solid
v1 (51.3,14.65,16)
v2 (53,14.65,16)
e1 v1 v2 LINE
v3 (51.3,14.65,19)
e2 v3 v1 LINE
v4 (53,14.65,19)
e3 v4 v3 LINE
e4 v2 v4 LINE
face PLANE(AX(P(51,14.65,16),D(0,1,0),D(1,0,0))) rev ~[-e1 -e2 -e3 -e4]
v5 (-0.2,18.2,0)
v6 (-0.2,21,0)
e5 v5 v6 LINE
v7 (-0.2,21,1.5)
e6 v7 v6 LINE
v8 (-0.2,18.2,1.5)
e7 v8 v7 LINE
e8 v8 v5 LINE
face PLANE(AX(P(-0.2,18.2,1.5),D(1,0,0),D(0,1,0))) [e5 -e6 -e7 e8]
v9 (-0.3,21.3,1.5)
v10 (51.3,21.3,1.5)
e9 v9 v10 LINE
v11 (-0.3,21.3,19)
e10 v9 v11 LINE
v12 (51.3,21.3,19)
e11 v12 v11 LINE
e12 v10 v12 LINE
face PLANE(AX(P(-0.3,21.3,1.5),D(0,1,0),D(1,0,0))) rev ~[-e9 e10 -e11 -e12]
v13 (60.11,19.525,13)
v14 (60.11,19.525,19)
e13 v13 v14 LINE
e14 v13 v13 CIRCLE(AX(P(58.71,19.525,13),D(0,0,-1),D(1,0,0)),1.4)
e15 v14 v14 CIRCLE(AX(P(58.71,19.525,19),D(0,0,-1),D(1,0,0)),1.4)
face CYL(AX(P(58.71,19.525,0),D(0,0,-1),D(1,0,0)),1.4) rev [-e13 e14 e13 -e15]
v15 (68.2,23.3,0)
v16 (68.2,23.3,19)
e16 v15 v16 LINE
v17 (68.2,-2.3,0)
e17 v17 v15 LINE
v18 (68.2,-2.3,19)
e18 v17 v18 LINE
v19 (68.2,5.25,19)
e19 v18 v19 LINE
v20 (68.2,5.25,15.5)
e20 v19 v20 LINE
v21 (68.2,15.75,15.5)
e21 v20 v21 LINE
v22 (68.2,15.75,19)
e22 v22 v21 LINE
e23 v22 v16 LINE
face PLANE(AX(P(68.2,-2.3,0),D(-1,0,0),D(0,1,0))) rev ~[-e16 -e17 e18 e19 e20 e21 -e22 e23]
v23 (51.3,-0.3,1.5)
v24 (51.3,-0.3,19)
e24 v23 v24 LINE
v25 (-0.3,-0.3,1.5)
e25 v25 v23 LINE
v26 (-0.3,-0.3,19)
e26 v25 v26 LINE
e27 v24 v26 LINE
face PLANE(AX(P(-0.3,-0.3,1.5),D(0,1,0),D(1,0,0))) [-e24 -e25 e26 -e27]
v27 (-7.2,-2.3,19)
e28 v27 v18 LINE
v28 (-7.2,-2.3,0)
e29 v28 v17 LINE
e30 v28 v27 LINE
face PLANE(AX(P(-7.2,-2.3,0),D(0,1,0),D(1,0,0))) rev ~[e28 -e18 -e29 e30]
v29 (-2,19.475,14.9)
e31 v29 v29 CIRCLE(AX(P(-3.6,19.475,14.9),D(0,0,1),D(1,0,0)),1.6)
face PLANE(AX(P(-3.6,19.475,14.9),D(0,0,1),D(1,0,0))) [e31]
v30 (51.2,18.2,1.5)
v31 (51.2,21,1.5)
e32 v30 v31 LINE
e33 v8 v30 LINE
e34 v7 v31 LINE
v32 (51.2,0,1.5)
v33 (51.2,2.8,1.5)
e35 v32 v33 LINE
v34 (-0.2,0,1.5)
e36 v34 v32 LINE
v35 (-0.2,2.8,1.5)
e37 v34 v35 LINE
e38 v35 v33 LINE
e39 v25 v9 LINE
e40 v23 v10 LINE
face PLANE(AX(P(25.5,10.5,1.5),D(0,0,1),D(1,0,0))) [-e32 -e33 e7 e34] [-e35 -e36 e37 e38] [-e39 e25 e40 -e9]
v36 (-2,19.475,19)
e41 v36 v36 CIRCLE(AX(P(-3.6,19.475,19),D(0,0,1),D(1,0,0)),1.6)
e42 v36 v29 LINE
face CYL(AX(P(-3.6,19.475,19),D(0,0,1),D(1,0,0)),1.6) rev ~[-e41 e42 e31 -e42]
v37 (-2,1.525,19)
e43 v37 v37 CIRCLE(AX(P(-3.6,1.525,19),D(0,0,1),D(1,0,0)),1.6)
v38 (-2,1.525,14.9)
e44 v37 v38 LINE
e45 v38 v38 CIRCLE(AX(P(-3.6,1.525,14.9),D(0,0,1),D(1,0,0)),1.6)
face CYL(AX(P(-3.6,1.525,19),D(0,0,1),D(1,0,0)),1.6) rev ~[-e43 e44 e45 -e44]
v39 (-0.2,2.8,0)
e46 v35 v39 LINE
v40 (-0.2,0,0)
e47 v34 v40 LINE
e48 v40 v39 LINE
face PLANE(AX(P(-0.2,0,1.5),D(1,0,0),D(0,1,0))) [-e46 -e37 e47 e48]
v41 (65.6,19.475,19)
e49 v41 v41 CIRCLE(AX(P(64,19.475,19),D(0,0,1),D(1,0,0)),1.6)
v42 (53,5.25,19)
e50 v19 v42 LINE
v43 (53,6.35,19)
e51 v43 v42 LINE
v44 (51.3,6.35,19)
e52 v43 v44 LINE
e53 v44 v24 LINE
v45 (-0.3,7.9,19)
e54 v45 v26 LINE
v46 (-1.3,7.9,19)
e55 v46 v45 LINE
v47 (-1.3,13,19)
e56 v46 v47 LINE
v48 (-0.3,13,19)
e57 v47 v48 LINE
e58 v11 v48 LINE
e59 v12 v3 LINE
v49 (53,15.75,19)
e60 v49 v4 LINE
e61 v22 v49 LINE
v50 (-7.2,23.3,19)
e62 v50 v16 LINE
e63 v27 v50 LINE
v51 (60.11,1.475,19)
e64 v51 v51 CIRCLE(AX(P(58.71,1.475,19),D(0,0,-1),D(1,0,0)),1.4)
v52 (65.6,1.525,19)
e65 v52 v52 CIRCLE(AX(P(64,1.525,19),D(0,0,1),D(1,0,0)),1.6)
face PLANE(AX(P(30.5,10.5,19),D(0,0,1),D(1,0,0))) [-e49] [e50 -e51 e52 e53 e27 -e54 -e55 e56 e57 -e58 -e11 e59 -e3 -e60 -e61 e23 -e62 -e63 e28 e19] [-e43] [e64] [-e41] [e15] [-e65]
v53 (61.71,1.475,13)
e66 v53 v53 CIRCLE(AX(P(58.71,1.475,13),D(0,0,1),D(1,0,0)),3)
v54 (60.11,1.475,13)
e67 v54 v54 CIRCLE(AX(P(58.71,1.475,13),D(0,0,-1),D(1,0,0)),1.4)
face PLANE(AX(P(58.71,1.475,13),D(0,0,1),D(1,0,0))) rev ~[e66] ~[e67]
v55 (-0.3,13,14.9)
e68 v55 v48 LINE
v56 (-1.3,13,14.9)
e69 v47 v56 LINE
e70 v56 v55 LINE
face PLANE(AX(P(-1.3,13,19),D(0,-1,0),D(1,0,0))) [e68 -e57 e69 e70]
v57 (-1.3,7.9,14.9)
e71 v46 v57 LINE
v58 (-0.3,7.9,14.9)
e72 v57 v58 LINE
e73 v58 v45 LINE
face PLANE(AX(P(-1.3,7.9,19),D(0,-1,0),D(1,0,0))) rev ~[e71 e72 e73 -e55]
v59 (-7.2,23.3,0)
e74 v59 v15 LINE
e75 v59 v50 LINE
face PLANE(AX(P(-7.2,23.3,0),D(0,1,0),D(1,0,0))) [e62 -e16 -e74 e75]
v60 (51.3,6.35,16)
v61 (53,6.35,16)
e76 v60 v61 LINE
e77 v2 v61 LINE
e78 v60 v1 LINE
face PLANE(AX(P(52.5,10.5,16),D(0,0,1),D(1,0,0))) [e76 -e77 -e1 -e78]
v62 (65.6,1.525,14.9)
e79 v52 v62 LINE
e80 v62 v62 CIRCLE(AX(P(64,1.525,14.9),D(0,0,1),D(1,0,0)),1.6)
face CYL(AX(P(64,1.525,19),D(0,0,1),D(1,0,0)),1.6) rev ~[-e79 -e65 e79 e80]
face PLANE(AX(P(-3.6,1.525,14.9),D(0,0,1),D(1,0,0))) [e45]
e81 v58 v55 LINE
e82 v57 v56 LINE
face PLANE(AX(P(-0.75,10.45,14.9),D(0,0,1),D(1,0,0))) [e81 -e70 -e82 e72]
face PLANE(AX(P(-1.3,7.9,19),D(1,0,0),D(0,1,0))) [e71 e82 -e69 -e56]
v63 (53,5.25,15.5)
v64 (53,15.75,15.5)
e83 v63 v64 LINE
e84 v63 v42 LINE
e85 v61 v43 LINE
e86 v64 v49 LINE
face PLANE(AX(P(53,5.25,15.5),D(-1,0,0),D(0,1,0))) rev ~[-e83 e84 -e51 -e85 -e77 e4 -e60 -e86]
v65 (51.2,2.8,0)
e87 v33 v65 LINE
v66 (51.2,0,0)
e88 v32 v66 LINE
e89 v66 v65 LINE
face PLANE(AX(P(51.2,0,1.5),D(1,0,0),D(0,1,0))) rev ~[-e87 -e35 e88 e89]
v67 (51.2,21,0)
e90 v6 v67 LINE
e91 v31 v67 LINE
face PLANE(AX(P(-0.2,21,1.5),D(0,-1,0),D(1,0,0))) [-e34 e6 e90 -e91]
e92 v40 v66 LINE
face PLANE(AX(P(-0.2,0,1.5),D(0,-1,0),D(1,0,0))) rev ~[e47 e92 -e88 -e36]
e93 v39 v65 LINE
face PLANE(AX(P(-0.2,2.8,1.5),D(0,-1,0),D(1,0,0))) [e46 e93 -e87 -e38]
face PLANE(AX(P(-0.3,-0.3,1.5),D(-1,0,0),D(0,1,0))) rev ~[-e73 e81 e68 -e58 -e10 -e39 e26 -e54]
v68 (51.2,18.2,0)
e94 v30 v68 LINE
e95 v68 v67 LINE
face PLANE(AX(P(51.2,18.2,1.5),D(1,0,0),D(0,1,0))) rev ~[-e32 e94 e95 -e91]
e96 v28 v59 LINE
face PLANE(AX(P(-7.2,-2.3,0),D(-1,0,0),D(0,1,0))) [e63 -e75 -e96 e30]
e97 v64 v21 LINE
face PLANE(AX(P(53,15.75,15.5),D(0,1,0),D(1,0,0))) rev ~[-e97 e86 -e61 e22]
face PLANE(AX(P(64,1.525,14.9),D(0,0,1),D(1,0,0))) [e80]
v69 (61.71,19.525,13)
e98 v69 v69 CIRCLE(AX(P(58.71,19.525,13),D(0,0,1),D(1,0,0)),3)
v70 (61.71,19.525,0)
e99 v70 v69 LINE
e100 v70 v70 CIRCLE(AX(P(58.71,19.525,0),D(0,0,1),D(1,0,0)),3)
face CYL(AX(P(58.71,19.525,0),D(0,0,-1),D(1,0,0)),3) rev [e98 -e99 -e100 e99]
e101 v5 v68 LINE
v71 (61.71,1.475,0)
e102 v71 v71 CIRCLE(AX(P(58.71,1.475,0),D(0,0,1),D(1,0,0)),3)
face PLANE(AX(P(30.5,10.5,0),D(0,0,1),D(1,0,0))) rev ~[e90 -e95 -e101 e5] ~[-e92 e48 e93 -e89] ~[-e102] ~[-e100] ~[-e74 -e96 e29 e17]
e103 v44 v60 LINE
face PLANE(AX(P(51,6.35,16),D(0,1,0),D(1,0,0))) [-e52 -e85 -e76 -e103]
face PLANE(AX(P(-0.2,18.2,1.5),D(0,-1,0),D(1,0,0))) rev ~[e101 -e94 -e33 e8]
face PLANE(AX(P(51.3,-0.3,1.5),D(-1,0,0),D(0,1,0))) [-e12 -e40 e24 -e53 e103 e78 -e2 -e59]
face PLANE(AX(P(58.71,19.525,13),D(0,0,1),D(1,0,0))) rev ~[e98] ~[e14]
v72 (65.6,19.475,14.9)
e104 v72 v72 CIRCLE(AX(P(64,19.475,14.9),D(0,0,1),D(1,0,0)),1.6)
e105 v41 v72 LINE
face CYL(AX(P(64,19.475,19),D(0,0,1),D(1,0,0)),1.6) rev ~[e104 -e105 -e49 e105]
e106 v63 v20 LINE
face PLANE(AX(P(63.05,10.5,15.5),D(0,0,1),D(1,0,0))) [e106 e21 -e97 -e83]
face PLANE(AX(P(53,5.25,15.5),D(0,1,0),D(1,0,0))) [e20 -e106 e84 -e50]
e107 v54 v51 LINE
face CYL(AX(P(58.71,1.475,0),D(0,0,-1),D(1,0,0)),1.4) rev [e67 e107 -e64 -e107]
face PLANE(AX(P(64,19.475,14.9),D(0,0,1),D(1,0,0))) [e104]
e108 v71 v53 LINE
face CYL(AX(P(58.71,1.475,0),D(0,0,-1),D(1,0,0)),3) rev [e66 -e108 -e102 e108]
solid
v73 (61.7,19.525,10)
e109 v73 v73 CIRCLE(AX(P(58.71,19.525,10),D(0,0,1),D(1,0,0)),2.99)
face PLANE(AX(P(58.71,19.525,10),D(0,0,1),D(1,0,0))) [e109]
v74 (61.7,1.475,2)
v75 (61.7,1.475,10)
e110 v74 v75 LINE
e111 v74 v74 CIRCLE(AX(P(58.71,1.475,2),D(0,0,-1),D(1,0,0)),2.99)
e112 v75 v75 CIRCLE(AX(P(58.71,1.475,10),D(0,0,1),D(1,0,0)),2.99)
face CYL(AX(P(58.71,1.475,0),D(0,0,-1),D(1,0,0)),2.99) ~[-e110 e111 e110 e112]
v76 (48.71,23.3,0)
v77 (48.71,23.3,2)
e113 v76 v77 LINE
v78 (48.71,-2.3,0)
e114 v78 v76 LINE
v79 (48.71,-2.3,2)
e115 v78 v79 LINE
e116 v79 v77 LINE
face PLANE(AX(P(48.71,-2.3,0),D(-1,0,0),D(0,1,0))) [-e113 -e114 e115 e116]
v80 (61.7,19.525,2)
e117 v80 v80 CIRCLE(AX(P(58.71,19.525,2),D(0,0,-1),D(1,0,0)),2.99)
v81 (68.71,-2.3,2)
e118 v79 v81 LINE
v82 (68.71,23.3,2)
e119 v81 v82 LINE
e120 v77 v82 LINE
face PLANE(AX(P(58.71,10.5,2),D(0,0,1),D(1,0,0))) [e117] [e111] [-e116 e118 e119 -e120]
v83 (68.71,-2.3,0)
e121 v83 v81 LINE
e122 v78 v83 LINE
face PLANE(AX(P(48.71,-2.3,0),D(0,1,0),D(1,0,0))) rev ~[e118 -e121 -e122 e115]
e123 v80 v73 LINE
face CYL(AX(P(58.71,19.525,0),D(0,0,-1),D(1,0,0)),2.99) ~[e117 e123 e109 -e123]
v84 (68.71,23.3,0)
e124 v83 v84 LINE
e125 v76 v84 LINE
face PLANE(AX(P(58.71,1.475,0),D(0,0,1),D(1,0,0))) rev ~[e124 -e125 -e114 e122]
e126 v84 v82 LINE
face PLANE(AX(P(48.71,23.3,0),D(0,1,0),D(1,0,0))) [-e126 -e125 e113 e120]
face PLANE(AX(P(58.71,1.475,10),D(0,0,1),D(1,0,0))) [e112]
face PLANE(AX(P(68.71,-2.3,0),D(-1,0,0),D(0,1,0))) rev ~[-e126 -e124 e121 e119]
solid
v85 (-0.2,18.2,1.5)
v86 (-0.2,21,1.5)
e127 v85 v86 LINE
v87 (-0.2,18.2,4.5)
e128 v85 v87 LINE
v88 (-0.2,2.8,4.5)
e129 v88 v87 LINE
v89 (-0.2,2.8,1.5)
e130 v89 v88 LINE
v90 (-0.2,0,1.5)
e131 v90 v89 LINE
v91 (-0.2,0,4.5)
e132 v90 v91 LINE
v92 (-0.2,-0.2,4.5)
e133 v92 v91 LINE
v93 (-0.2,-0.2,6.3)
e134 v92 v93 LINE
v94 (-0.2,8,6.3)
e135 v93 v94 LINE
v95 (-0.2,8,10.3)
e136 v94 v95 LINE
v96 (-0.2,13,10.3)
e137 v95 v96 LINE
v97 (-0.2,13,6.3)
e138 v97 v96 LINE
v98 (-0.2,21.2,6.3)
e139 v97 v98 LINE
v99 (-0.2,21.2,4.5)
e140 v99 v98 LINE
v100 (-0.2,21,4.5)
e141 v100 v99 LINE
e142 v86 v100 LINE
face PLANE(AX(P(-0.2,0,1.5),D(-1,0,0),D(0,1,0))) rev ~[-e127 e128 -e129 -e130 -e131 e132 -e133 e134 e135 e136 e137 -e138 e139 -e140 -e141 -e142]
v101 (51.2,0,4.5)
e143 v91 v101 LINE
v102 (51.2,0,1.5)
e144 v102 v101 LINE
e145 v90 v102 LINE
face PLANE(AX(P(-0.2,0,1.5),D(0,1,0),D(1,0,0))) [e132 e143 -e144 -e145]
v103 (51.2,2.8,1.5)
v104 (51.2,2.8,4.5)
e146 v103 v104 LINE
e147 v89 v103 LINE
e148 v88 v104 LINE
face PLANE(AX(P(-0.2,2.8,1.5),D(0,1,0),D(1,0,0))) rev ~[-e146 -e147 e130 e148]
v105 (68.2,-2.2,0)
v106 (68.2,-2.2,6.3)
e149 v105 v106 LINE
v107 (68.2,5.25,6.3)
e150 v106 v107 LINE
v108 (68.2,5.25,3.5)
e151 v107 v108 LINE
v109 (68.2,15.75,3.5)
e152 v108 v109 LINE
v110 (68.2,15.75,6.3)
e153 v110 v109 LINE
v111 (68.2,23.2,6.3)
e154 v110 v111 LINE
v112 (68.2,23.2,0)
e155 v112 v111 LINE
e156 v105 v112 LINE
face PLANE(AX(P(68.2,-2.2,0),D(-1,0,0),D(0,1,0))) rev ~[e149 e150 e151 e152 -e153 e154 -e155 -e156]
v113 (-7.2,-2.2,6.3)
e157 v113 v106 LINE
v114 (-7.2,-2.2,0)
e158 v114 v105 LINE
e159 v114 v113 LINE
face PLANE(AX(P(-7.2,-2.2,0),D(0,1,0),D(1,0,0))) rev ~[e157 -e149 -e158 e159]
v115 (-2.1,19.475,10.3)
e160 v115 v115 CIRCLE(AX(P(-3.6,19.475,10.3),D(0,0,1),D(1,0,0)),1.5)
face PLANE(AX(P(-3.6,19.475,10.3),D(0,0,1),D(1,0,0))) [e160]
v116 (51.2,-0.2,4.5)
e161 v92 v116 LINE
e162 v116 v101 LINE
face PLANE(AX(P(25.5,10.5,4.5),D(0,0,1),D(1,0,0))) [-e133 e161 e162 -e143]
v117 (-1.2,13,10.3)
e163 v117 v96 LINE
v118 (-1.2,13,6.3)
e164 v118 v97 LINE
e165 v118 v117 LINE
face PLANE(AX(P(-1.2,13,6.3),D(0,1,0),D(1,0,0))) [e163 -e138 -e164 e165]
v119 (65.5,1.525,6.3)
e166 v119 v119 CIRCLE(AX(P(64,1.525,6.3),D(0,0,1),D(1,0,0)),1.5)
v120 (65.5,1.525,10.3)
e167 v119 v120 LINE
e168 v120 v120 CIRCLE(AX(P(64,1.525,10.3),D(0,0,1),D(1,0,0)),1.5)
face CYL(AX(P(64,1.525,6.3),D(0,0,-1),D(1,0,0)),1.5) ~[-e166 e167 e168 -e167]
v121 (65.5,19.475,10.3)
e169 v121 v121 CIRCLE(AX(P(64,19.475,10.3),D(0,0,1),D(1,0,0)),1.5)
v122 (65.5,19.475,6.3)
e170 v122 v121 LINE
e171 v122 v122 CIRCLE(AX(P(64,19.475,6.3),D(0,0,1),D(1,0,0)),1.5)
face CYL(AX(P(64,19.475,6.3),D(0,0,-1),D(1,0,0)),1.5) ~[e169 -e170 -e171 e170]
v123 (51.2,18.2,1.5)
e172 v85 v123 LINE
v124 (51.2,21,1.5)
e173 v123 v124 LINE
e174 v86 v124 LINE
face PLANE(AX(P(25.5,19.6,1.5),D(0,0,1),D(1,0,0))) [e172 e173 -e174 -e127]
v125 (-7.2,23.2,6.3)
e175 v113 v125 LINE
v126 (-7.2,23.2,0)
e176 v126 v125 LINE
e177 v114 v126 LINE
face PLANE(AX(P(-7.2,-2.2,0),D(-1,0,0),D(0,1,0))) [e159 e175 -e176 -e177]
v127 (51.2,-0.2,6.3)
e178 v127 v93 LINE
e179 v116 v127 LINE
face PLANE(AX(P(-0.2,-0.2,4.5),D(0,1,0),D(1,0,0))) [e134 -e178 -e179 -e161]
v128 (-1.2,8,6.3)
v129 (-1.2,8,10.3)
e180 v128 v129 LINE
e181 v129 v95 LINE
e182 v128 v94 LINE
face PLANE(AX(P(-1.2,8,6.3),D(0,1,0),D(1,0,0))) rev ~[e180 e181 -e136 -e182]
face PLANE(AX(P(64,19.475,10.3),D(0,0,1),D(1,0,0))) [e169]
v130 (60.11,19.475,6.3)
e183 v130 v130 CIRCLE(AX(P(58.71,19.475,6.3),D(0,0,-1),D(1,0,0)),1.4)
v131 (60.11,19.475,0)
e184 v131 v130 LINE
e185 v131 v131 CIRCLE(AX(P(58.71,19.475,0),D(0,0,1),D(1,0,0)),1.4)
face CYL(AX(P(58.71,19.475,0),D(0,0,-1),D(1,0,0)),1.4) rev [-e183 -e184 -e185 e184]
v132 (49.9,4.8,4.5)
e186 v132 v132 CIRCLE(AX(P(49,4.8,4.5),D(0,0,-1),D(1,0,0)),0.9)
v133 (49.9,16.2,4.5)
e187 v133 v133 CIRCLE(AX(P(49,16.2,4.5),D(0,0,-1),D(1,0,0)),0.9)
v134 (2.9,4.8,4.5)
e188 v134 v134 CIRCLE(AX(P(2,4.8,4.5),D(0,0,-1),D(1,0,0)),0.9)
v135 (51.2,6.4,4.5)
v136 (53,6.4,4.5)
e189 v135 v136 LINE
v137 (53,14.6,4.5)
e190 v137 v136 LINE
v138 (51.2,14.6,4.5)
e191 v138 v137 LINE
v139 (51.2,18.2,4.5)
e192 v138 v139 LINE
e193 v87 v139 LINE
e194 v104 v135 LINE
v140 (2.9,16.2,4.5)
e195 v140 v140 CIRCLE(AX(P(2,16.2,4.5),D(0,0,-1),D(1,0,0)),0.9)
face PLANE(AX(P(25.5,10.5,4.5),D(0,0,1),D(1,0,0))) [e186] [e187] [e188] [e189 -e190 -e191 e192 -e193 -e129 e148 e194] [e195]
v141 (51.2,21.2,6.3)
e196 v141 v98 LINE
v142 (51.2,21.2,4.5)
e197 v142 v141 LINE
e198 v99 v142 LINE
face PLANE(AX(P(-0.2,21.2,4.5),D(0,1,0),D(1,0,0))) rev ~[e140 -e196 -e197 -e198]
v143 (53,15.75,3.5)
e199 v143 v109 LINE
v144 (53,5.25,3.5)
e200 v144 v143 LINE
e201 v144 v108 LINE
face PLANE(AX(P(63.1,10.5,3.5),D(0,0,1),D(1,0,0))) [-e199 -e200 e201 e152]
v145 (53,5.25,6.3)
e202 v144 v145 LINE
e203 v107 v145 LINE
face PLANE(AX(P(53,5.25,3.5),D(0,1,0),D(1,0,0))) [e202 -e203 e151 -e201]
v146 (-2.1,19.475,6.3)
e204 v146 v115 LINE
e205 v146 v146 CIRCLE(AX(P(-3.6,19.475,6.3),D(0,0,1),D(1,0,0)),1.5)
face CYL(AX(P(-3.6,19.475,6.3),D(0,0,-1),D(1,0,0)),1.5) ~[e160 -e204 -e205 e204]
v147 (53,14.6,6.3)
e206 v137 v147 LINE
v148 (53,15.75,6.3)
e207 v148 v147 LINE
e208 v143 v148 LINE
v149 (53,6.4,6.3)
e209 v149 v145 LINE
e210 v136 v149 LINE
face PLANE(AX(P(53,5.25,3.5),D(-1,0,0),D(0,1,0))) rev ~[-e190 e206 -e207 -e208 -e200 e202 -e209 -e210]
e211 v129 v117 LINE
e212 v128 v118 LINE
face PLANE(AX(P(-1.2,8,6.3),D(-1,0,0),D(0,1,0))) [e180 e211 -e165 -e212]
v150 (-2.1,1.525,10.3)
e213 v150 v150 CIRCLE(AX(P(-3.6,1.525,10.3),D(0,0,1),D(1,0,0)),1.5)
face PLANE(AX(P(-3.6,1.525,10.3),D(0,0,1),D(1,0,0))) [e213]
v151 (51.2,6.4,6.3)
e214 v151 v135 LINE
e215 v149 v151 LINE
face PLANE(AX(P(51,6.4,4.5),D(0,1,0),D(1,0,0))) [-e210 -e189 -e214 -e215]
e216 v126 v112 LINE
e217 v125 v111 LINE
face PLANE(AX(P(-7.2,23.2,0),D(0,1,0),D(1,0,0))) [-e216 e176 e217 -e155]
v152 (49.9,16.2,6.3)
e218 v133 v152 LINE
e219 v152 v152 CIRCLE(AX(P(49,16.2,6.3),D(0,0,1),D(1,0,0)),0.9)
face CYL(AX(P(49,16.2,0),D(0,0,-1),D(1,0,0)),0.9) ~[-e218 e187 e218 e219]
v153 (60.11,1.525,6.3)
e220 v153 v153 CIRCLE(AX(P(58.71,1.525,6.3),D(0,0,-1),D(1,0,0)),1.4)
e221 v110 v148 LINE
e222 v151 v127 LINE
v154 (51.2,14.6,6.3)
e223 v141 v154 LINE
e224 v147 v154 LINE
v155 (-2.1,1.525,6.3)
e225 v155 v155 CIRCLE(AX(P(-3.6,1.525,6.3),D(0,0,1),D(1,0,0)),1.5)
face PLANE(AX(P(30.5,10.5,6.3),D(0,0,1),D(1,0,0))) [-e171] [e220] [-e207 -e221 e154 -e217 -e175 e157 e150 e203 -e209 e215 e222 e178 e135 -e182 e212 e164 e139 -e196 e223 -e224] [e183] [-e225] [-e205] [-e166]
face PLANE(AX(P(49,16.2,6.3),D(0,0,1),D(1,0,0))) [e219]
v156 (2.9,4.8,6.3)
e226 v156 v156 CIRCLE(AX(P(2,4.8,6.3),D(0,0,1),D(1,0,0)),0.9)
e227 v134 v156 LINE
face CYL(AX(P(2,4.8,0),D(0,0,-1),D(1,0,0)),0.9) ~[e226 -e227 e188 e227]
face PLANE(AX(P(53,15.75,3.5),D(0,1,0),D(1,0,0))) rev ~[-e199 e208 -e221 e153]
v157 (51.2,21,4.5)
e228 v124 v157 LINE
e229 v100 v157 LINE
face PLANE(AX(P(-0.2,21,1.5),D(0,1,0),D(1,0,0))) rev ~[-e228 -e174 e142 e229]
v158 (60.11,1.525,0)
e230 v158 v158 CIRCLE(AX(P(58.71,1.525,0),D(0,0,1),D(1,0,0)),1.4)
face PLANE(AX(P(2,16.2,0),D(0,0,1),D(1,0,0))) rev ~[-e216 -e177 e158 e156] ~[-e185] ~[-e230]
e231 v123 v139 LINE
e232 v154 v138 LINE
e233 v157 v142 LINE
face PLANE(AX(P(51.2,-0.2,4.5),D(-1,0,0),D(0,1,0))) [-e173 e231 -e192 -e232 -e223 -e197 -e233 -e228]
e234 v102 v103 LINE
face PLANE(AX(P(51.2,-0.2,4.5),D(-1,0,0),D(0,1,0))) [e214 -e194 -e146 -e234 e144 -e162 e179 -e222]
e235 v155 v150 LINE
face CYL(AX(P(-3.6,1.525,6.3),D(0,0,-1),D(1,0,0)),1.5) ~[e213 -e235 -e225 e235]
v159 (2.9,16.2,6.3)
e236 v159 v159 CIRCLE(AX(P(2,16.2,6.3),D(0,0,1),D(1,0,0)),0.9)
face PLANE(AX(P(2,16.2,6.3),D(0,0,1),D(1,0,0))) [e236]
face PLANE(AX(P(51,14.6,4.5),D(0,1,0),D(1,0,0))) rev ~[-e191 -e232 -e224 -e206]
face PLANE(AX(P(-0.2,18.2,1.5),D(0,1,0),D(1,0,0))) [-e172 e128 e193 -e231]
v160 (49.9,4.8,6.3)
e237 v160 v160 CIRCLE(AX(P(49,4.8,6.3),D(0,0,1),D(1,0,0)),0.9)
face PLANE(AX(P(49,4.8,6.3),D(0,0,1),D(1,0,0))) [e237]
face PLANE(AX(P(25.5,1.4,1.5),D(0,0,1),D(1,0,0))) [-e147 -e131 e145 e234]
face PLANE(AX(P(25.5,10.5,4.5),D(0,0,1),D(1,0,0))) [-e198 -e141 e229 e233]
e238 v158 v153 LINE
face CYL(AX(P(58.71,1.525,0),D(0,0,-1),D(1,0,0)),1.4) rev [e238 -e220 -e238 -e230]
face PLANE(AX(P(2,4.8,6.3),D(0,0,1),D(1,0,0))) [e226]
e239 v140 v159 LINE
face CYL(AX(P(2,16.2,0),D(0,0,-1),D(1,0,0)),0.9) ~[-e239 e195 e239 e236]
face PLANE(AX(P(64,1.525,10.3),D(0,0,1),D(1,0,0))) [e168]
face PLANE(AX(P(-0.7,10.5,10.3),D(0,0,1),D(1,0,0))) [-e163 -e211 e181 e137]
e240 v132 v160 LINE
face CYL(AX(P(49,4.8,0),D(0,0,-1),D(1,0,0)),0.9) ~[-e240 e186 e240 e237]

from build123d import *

# Parameters (mm, degrees)
SKETCH_W             = 75.4
SKETCH_H             = 25.4
PAD_DEPTH            = 6.3
SKETCH001_W          = 51.4
SKETCH001_H          = 2.8
POCKET_DEPTH         = 4.801
SKETCH002_W          = 51.4
SKETCH002_H          = 21.4
POCKET001_DEPTH      = 1.801
SKETCH003_R          = 0.9
PAD001_DEPTH         = 6.3
SKETCH004_W          = 3
SKETCH004_H          = 8.2
POCKET002_DEPTH      = 1.801
SKETCH005_W          = 20.2
SKETCH005_H          = 10.5
POCKET003_DEPTH      = 5
SKETCH006_R          = 1.4
POCKET004_DEPTH      = 0.001
POCKET004_DEPTH_BACK = -6.301
SKETCH016_R          = 1.5
SKETCH016_W          = 1
SKETCH016_H          = 5
PAD003_DEPTH         = 4
SKETCH007_W          = 75.4
SKETCH007_H          = 25.6
PAD002_DEPTH         = 19
SKETCH009_W          = 51.6
SKETCH009_H          = 21.6
POCKET006_DEPTH      = 17.501
SKETCH011_W          = 3
SKETCH011_H          = 8.3
POCKET007_DEPTH      = 3.001
SKETCH012_W          = 20.1
SKETCH012_H          = 10.5
POCKET008_DEPTH      = 5
SKETCH013_R          = 1.4
POCKET009_DEPTH      = 0.001
POCKET009_DEPTH_BACK = -19.001
SKETCH014_R          = 3
POCKET010_DEPTH      = 13
SKETCH015_W          = 51.4
SKETCH015_H          = 2.8
POCKET011_DEPTH      = 5
SKETCH017_R          = 1.6
SKETCH017_W          = 1.1
SKETCH017_H          = 5.1
POCKET012_DEPTH      = 4.1
SKETCH019_W          = 20
SKETCH019_H          = 25.6
PAD004_DEPTH         = 2
SKETCH018_R          = 2.99
PAD005_DEPTH         = 10


with BuildPart() as body:
    # Sketch → Pad (new body)
    with BuildSketch(Plane.XY):
        with Locations((30.5, 10.5)):
            Rectangle(SKETCH_W, SKETCH_H)
    extrude(amount=PAD_DEPTH)

    # Sketch001 → Pocket (cut, through all)
    with BuildSketch(Plane.XY.offset(1.5)):
        with Locations((25.5, 1.4)):
            Rectangle(SKETCH001_W, SKETCH001_H)
        with Locations((25.5, 19.6)):
            Rectangle(SKETCH001_W, SKETCH001_H)
    extrude(amount=POCKET_DEPTH, mode=Mode.SUBTRACT)

    # Sketch002 → Pocket001 (cut, through all)
    with BuildSketch(Plane.XY.offset(4.5)):
        with Locations((25.5, 10.5)):
            Rectangle(SKETCH002_W, SKETCH002_H)
    extrude(amount=POCKET001_DEPTH, mode=Mode.SUBTRACT)

    # Sketch003 → Pad001 (join)
    with BuildSketch(Plane.XY):
        with Locations((2, 16.2)):
            Circle(SKETCH003_R)
        with Locations((2, 4.8)):
            Circle(SKETCH003_R)
        with Locations((49, 16.2)):
            Circle(SKETCH003_R)
        with Locations((49, 4.8)):
            Circle(SKETCH003_R)
    extrude(amount=PAD001_DEPTH)

    # Sketch004 → Pocket002 (cut, through all)
    with BuildSketch(Plane.XY.offset(4.5)):
        with Locations((52.5, 10.5)):
            Rectangle(SKETCH004_W, SKETCH004_H)
    extrude(amount=POCKET002_DEPTH, mode=Mode.SUBTRACT)

    # Sketch005 → Pocket003 (cut)
    with BuildSketch(Plane.XY.offset(3.5)):
        with Locations((63.1, 10.5)):
            Rectangle(SKETCH005_W, SKETCH005_H)
    extrude(amount=POCKET003_DEPTH, mode=Mode.SUBTRACT)

    # Sketch006 → Pocket004 (cut, two sides)
    with BuildSketch(Plane.XY) as pocket004_sk:
        with Locations((58.71, 1.525)):
            Circle(SKETCH006_R)
        with Locations((58.71, 19.475)):
            Circle(SKETCH006_R)
    extrude(amount=-POCKET004_DEPTH, mode=Mode.SUBTRACT)
    extrude(pocket004_sk.sketch, amount=-POCKET004_DEPTH_BACK, mode=Mode.SUBTRACT)

    # Sketch016 → Pad003 (join)
    with BuildSketch(Plane.XY.offset(6.3)):
        with Locations((64, 19.475)):
            Circle(SKETCH016_R)
        with Locations((64, 1.525)):
            Circle(SKETCH016_R)
        with Locations((-3.6, 1.525)):
            Circle(SKETCH016_R)
        with Locations((-3.6, 19.475)):
            Circle(SKETCH016_R)
        with Locations((-0.7, 10.5)):
            Rectangle(SKETCH016_W, SKETCH016_H)
    extrude(amount=PAD003_DEPTH)


with BuildPart() as body001topcover:
    # Sketch007 → Pad002 (new body)
    with BuildSketch(Plane.XY):
        with Locations((30.5, 10.5)):
            Rectangle(SKETCH007_W, SKETCH007_H)
    extrude(amount=PAD002_DEPTH)

    # Sketch009 → Pocket006 (cut, through all)
    with BuildSketch(Plane.XY.offset(1.5)):
        with Locations((25.5, 10.5)):
            Rectangle(SKETCH009_W, SKETCH009_H)
    extrude(amount=POCKET006_DEPTH, mode=Mode.SUBTRACT)

    # Sketch011 → Pocket007 (cut, through all)
    with BuildSketch(Plane.XY.offset(16)):
        with Locations((52.5, 10.5)):
            Rectangle(SKETCH011_W, SKETCH011_H)
    extrude(amount=POCKET007_DEPTH, mode=Mode.SUBTRACT)

    # Sketch012 → Pocket008 (cut)
    with BuildSketch(Plane.XY.offset(15.5)):
        with Locations((63.05, 10.5)):
            Rectangle(SKETCH012_W, SKETCH012_H)
    extrude(amount=POCKET008_DEPTH, mode=Mode.SUBTRACT)

    # Sketch013 → Pocket009 (cut, two sides)
    with BuildSketch(Plane.XY) as pocket009_sk:
        with Locations((58.71, 1.475)):
            Circle(SKETCH013_R)
        with Locations((58.71, 19.525)):
            Circle(SKETCH013_R)
    extrude(amount=-POCKET009_DEPTH, mode=Mode.SUBTRACT)
    extrude(pocket009_sk.sketch, amount=-POCKET009_DEPTH_BACK, mode=Mode.SUBTRACT)

    # Sketch014 → Pocket010 (cut)
    with BuildSketch(Plane.XY):
        with Locations((58.71, 1.475)):
            Circle(SKETCH014_R)
        with Locations((58.71, 19.525)):
            Circle(SKETCH014_R)
    extrude(amount=POCKET010_DEPTH, mode=Mode.SUBTRACT)

    # Sketch015 → Pocket011 (cut)
    with BuildSketch(Plane.XY.offset(1.5)):
        with Locations((25.5, 1.4)):
            Rectangle(SKETCH015_W, SKETCH015_H)
        with Locations((25.5, 19.6)):
            Rectangle(SKETCH015_W, SKETCH015_H)
    extrude(amount=-POCKET011_DEPTH, mode=Mode.SUBTRACT)

    # Sketch017 → Pocket012 (cut)
    with BuildSketch(Plane.XY.offset(19)):
        with Locations((64, 19.475)):
            Circle(SKETCH017_R)
        with Locations((64, 1.525)):
            Circle(SKETCH017_R)
        with Locations((-3.6, 19.475)):
            Circle(SKETCH017_R)
        with Locations((-3.6, 1.525)):
            Circle(SKETCH017_R)
        with Locations((-0.75, 10.45)):
            Rectangle(SKETCH017_W, SKETCH017_H)
    extrude(amount=-POCKET012_DEPTH, mode=Mode.SUBTRACT)


with BuildPart() as body002wireholder:
    # Sketch019 → Pad004 (new body)
    with BuildSketch(Plane.XY):
        with Locations((58.71, 10.5)):
            Rectangle(SKETCH019_W, SKETCH019_H)
    extrude(amount=PAD004_DEPTH)

    # Sketch018 → Pad005 (join)
    with BuildSketch(Plane.XY):
        with Locations((58.71, 1.475)):
            Circle(SKETCH018_R)
        with Locations((58.71, 19.525)):
            Circle(SKETCH018_R)
    extrude(amount=PAD005_DEPTH)


solid = Compound([body.part, body001topcover.part, body002wireholder.part])
